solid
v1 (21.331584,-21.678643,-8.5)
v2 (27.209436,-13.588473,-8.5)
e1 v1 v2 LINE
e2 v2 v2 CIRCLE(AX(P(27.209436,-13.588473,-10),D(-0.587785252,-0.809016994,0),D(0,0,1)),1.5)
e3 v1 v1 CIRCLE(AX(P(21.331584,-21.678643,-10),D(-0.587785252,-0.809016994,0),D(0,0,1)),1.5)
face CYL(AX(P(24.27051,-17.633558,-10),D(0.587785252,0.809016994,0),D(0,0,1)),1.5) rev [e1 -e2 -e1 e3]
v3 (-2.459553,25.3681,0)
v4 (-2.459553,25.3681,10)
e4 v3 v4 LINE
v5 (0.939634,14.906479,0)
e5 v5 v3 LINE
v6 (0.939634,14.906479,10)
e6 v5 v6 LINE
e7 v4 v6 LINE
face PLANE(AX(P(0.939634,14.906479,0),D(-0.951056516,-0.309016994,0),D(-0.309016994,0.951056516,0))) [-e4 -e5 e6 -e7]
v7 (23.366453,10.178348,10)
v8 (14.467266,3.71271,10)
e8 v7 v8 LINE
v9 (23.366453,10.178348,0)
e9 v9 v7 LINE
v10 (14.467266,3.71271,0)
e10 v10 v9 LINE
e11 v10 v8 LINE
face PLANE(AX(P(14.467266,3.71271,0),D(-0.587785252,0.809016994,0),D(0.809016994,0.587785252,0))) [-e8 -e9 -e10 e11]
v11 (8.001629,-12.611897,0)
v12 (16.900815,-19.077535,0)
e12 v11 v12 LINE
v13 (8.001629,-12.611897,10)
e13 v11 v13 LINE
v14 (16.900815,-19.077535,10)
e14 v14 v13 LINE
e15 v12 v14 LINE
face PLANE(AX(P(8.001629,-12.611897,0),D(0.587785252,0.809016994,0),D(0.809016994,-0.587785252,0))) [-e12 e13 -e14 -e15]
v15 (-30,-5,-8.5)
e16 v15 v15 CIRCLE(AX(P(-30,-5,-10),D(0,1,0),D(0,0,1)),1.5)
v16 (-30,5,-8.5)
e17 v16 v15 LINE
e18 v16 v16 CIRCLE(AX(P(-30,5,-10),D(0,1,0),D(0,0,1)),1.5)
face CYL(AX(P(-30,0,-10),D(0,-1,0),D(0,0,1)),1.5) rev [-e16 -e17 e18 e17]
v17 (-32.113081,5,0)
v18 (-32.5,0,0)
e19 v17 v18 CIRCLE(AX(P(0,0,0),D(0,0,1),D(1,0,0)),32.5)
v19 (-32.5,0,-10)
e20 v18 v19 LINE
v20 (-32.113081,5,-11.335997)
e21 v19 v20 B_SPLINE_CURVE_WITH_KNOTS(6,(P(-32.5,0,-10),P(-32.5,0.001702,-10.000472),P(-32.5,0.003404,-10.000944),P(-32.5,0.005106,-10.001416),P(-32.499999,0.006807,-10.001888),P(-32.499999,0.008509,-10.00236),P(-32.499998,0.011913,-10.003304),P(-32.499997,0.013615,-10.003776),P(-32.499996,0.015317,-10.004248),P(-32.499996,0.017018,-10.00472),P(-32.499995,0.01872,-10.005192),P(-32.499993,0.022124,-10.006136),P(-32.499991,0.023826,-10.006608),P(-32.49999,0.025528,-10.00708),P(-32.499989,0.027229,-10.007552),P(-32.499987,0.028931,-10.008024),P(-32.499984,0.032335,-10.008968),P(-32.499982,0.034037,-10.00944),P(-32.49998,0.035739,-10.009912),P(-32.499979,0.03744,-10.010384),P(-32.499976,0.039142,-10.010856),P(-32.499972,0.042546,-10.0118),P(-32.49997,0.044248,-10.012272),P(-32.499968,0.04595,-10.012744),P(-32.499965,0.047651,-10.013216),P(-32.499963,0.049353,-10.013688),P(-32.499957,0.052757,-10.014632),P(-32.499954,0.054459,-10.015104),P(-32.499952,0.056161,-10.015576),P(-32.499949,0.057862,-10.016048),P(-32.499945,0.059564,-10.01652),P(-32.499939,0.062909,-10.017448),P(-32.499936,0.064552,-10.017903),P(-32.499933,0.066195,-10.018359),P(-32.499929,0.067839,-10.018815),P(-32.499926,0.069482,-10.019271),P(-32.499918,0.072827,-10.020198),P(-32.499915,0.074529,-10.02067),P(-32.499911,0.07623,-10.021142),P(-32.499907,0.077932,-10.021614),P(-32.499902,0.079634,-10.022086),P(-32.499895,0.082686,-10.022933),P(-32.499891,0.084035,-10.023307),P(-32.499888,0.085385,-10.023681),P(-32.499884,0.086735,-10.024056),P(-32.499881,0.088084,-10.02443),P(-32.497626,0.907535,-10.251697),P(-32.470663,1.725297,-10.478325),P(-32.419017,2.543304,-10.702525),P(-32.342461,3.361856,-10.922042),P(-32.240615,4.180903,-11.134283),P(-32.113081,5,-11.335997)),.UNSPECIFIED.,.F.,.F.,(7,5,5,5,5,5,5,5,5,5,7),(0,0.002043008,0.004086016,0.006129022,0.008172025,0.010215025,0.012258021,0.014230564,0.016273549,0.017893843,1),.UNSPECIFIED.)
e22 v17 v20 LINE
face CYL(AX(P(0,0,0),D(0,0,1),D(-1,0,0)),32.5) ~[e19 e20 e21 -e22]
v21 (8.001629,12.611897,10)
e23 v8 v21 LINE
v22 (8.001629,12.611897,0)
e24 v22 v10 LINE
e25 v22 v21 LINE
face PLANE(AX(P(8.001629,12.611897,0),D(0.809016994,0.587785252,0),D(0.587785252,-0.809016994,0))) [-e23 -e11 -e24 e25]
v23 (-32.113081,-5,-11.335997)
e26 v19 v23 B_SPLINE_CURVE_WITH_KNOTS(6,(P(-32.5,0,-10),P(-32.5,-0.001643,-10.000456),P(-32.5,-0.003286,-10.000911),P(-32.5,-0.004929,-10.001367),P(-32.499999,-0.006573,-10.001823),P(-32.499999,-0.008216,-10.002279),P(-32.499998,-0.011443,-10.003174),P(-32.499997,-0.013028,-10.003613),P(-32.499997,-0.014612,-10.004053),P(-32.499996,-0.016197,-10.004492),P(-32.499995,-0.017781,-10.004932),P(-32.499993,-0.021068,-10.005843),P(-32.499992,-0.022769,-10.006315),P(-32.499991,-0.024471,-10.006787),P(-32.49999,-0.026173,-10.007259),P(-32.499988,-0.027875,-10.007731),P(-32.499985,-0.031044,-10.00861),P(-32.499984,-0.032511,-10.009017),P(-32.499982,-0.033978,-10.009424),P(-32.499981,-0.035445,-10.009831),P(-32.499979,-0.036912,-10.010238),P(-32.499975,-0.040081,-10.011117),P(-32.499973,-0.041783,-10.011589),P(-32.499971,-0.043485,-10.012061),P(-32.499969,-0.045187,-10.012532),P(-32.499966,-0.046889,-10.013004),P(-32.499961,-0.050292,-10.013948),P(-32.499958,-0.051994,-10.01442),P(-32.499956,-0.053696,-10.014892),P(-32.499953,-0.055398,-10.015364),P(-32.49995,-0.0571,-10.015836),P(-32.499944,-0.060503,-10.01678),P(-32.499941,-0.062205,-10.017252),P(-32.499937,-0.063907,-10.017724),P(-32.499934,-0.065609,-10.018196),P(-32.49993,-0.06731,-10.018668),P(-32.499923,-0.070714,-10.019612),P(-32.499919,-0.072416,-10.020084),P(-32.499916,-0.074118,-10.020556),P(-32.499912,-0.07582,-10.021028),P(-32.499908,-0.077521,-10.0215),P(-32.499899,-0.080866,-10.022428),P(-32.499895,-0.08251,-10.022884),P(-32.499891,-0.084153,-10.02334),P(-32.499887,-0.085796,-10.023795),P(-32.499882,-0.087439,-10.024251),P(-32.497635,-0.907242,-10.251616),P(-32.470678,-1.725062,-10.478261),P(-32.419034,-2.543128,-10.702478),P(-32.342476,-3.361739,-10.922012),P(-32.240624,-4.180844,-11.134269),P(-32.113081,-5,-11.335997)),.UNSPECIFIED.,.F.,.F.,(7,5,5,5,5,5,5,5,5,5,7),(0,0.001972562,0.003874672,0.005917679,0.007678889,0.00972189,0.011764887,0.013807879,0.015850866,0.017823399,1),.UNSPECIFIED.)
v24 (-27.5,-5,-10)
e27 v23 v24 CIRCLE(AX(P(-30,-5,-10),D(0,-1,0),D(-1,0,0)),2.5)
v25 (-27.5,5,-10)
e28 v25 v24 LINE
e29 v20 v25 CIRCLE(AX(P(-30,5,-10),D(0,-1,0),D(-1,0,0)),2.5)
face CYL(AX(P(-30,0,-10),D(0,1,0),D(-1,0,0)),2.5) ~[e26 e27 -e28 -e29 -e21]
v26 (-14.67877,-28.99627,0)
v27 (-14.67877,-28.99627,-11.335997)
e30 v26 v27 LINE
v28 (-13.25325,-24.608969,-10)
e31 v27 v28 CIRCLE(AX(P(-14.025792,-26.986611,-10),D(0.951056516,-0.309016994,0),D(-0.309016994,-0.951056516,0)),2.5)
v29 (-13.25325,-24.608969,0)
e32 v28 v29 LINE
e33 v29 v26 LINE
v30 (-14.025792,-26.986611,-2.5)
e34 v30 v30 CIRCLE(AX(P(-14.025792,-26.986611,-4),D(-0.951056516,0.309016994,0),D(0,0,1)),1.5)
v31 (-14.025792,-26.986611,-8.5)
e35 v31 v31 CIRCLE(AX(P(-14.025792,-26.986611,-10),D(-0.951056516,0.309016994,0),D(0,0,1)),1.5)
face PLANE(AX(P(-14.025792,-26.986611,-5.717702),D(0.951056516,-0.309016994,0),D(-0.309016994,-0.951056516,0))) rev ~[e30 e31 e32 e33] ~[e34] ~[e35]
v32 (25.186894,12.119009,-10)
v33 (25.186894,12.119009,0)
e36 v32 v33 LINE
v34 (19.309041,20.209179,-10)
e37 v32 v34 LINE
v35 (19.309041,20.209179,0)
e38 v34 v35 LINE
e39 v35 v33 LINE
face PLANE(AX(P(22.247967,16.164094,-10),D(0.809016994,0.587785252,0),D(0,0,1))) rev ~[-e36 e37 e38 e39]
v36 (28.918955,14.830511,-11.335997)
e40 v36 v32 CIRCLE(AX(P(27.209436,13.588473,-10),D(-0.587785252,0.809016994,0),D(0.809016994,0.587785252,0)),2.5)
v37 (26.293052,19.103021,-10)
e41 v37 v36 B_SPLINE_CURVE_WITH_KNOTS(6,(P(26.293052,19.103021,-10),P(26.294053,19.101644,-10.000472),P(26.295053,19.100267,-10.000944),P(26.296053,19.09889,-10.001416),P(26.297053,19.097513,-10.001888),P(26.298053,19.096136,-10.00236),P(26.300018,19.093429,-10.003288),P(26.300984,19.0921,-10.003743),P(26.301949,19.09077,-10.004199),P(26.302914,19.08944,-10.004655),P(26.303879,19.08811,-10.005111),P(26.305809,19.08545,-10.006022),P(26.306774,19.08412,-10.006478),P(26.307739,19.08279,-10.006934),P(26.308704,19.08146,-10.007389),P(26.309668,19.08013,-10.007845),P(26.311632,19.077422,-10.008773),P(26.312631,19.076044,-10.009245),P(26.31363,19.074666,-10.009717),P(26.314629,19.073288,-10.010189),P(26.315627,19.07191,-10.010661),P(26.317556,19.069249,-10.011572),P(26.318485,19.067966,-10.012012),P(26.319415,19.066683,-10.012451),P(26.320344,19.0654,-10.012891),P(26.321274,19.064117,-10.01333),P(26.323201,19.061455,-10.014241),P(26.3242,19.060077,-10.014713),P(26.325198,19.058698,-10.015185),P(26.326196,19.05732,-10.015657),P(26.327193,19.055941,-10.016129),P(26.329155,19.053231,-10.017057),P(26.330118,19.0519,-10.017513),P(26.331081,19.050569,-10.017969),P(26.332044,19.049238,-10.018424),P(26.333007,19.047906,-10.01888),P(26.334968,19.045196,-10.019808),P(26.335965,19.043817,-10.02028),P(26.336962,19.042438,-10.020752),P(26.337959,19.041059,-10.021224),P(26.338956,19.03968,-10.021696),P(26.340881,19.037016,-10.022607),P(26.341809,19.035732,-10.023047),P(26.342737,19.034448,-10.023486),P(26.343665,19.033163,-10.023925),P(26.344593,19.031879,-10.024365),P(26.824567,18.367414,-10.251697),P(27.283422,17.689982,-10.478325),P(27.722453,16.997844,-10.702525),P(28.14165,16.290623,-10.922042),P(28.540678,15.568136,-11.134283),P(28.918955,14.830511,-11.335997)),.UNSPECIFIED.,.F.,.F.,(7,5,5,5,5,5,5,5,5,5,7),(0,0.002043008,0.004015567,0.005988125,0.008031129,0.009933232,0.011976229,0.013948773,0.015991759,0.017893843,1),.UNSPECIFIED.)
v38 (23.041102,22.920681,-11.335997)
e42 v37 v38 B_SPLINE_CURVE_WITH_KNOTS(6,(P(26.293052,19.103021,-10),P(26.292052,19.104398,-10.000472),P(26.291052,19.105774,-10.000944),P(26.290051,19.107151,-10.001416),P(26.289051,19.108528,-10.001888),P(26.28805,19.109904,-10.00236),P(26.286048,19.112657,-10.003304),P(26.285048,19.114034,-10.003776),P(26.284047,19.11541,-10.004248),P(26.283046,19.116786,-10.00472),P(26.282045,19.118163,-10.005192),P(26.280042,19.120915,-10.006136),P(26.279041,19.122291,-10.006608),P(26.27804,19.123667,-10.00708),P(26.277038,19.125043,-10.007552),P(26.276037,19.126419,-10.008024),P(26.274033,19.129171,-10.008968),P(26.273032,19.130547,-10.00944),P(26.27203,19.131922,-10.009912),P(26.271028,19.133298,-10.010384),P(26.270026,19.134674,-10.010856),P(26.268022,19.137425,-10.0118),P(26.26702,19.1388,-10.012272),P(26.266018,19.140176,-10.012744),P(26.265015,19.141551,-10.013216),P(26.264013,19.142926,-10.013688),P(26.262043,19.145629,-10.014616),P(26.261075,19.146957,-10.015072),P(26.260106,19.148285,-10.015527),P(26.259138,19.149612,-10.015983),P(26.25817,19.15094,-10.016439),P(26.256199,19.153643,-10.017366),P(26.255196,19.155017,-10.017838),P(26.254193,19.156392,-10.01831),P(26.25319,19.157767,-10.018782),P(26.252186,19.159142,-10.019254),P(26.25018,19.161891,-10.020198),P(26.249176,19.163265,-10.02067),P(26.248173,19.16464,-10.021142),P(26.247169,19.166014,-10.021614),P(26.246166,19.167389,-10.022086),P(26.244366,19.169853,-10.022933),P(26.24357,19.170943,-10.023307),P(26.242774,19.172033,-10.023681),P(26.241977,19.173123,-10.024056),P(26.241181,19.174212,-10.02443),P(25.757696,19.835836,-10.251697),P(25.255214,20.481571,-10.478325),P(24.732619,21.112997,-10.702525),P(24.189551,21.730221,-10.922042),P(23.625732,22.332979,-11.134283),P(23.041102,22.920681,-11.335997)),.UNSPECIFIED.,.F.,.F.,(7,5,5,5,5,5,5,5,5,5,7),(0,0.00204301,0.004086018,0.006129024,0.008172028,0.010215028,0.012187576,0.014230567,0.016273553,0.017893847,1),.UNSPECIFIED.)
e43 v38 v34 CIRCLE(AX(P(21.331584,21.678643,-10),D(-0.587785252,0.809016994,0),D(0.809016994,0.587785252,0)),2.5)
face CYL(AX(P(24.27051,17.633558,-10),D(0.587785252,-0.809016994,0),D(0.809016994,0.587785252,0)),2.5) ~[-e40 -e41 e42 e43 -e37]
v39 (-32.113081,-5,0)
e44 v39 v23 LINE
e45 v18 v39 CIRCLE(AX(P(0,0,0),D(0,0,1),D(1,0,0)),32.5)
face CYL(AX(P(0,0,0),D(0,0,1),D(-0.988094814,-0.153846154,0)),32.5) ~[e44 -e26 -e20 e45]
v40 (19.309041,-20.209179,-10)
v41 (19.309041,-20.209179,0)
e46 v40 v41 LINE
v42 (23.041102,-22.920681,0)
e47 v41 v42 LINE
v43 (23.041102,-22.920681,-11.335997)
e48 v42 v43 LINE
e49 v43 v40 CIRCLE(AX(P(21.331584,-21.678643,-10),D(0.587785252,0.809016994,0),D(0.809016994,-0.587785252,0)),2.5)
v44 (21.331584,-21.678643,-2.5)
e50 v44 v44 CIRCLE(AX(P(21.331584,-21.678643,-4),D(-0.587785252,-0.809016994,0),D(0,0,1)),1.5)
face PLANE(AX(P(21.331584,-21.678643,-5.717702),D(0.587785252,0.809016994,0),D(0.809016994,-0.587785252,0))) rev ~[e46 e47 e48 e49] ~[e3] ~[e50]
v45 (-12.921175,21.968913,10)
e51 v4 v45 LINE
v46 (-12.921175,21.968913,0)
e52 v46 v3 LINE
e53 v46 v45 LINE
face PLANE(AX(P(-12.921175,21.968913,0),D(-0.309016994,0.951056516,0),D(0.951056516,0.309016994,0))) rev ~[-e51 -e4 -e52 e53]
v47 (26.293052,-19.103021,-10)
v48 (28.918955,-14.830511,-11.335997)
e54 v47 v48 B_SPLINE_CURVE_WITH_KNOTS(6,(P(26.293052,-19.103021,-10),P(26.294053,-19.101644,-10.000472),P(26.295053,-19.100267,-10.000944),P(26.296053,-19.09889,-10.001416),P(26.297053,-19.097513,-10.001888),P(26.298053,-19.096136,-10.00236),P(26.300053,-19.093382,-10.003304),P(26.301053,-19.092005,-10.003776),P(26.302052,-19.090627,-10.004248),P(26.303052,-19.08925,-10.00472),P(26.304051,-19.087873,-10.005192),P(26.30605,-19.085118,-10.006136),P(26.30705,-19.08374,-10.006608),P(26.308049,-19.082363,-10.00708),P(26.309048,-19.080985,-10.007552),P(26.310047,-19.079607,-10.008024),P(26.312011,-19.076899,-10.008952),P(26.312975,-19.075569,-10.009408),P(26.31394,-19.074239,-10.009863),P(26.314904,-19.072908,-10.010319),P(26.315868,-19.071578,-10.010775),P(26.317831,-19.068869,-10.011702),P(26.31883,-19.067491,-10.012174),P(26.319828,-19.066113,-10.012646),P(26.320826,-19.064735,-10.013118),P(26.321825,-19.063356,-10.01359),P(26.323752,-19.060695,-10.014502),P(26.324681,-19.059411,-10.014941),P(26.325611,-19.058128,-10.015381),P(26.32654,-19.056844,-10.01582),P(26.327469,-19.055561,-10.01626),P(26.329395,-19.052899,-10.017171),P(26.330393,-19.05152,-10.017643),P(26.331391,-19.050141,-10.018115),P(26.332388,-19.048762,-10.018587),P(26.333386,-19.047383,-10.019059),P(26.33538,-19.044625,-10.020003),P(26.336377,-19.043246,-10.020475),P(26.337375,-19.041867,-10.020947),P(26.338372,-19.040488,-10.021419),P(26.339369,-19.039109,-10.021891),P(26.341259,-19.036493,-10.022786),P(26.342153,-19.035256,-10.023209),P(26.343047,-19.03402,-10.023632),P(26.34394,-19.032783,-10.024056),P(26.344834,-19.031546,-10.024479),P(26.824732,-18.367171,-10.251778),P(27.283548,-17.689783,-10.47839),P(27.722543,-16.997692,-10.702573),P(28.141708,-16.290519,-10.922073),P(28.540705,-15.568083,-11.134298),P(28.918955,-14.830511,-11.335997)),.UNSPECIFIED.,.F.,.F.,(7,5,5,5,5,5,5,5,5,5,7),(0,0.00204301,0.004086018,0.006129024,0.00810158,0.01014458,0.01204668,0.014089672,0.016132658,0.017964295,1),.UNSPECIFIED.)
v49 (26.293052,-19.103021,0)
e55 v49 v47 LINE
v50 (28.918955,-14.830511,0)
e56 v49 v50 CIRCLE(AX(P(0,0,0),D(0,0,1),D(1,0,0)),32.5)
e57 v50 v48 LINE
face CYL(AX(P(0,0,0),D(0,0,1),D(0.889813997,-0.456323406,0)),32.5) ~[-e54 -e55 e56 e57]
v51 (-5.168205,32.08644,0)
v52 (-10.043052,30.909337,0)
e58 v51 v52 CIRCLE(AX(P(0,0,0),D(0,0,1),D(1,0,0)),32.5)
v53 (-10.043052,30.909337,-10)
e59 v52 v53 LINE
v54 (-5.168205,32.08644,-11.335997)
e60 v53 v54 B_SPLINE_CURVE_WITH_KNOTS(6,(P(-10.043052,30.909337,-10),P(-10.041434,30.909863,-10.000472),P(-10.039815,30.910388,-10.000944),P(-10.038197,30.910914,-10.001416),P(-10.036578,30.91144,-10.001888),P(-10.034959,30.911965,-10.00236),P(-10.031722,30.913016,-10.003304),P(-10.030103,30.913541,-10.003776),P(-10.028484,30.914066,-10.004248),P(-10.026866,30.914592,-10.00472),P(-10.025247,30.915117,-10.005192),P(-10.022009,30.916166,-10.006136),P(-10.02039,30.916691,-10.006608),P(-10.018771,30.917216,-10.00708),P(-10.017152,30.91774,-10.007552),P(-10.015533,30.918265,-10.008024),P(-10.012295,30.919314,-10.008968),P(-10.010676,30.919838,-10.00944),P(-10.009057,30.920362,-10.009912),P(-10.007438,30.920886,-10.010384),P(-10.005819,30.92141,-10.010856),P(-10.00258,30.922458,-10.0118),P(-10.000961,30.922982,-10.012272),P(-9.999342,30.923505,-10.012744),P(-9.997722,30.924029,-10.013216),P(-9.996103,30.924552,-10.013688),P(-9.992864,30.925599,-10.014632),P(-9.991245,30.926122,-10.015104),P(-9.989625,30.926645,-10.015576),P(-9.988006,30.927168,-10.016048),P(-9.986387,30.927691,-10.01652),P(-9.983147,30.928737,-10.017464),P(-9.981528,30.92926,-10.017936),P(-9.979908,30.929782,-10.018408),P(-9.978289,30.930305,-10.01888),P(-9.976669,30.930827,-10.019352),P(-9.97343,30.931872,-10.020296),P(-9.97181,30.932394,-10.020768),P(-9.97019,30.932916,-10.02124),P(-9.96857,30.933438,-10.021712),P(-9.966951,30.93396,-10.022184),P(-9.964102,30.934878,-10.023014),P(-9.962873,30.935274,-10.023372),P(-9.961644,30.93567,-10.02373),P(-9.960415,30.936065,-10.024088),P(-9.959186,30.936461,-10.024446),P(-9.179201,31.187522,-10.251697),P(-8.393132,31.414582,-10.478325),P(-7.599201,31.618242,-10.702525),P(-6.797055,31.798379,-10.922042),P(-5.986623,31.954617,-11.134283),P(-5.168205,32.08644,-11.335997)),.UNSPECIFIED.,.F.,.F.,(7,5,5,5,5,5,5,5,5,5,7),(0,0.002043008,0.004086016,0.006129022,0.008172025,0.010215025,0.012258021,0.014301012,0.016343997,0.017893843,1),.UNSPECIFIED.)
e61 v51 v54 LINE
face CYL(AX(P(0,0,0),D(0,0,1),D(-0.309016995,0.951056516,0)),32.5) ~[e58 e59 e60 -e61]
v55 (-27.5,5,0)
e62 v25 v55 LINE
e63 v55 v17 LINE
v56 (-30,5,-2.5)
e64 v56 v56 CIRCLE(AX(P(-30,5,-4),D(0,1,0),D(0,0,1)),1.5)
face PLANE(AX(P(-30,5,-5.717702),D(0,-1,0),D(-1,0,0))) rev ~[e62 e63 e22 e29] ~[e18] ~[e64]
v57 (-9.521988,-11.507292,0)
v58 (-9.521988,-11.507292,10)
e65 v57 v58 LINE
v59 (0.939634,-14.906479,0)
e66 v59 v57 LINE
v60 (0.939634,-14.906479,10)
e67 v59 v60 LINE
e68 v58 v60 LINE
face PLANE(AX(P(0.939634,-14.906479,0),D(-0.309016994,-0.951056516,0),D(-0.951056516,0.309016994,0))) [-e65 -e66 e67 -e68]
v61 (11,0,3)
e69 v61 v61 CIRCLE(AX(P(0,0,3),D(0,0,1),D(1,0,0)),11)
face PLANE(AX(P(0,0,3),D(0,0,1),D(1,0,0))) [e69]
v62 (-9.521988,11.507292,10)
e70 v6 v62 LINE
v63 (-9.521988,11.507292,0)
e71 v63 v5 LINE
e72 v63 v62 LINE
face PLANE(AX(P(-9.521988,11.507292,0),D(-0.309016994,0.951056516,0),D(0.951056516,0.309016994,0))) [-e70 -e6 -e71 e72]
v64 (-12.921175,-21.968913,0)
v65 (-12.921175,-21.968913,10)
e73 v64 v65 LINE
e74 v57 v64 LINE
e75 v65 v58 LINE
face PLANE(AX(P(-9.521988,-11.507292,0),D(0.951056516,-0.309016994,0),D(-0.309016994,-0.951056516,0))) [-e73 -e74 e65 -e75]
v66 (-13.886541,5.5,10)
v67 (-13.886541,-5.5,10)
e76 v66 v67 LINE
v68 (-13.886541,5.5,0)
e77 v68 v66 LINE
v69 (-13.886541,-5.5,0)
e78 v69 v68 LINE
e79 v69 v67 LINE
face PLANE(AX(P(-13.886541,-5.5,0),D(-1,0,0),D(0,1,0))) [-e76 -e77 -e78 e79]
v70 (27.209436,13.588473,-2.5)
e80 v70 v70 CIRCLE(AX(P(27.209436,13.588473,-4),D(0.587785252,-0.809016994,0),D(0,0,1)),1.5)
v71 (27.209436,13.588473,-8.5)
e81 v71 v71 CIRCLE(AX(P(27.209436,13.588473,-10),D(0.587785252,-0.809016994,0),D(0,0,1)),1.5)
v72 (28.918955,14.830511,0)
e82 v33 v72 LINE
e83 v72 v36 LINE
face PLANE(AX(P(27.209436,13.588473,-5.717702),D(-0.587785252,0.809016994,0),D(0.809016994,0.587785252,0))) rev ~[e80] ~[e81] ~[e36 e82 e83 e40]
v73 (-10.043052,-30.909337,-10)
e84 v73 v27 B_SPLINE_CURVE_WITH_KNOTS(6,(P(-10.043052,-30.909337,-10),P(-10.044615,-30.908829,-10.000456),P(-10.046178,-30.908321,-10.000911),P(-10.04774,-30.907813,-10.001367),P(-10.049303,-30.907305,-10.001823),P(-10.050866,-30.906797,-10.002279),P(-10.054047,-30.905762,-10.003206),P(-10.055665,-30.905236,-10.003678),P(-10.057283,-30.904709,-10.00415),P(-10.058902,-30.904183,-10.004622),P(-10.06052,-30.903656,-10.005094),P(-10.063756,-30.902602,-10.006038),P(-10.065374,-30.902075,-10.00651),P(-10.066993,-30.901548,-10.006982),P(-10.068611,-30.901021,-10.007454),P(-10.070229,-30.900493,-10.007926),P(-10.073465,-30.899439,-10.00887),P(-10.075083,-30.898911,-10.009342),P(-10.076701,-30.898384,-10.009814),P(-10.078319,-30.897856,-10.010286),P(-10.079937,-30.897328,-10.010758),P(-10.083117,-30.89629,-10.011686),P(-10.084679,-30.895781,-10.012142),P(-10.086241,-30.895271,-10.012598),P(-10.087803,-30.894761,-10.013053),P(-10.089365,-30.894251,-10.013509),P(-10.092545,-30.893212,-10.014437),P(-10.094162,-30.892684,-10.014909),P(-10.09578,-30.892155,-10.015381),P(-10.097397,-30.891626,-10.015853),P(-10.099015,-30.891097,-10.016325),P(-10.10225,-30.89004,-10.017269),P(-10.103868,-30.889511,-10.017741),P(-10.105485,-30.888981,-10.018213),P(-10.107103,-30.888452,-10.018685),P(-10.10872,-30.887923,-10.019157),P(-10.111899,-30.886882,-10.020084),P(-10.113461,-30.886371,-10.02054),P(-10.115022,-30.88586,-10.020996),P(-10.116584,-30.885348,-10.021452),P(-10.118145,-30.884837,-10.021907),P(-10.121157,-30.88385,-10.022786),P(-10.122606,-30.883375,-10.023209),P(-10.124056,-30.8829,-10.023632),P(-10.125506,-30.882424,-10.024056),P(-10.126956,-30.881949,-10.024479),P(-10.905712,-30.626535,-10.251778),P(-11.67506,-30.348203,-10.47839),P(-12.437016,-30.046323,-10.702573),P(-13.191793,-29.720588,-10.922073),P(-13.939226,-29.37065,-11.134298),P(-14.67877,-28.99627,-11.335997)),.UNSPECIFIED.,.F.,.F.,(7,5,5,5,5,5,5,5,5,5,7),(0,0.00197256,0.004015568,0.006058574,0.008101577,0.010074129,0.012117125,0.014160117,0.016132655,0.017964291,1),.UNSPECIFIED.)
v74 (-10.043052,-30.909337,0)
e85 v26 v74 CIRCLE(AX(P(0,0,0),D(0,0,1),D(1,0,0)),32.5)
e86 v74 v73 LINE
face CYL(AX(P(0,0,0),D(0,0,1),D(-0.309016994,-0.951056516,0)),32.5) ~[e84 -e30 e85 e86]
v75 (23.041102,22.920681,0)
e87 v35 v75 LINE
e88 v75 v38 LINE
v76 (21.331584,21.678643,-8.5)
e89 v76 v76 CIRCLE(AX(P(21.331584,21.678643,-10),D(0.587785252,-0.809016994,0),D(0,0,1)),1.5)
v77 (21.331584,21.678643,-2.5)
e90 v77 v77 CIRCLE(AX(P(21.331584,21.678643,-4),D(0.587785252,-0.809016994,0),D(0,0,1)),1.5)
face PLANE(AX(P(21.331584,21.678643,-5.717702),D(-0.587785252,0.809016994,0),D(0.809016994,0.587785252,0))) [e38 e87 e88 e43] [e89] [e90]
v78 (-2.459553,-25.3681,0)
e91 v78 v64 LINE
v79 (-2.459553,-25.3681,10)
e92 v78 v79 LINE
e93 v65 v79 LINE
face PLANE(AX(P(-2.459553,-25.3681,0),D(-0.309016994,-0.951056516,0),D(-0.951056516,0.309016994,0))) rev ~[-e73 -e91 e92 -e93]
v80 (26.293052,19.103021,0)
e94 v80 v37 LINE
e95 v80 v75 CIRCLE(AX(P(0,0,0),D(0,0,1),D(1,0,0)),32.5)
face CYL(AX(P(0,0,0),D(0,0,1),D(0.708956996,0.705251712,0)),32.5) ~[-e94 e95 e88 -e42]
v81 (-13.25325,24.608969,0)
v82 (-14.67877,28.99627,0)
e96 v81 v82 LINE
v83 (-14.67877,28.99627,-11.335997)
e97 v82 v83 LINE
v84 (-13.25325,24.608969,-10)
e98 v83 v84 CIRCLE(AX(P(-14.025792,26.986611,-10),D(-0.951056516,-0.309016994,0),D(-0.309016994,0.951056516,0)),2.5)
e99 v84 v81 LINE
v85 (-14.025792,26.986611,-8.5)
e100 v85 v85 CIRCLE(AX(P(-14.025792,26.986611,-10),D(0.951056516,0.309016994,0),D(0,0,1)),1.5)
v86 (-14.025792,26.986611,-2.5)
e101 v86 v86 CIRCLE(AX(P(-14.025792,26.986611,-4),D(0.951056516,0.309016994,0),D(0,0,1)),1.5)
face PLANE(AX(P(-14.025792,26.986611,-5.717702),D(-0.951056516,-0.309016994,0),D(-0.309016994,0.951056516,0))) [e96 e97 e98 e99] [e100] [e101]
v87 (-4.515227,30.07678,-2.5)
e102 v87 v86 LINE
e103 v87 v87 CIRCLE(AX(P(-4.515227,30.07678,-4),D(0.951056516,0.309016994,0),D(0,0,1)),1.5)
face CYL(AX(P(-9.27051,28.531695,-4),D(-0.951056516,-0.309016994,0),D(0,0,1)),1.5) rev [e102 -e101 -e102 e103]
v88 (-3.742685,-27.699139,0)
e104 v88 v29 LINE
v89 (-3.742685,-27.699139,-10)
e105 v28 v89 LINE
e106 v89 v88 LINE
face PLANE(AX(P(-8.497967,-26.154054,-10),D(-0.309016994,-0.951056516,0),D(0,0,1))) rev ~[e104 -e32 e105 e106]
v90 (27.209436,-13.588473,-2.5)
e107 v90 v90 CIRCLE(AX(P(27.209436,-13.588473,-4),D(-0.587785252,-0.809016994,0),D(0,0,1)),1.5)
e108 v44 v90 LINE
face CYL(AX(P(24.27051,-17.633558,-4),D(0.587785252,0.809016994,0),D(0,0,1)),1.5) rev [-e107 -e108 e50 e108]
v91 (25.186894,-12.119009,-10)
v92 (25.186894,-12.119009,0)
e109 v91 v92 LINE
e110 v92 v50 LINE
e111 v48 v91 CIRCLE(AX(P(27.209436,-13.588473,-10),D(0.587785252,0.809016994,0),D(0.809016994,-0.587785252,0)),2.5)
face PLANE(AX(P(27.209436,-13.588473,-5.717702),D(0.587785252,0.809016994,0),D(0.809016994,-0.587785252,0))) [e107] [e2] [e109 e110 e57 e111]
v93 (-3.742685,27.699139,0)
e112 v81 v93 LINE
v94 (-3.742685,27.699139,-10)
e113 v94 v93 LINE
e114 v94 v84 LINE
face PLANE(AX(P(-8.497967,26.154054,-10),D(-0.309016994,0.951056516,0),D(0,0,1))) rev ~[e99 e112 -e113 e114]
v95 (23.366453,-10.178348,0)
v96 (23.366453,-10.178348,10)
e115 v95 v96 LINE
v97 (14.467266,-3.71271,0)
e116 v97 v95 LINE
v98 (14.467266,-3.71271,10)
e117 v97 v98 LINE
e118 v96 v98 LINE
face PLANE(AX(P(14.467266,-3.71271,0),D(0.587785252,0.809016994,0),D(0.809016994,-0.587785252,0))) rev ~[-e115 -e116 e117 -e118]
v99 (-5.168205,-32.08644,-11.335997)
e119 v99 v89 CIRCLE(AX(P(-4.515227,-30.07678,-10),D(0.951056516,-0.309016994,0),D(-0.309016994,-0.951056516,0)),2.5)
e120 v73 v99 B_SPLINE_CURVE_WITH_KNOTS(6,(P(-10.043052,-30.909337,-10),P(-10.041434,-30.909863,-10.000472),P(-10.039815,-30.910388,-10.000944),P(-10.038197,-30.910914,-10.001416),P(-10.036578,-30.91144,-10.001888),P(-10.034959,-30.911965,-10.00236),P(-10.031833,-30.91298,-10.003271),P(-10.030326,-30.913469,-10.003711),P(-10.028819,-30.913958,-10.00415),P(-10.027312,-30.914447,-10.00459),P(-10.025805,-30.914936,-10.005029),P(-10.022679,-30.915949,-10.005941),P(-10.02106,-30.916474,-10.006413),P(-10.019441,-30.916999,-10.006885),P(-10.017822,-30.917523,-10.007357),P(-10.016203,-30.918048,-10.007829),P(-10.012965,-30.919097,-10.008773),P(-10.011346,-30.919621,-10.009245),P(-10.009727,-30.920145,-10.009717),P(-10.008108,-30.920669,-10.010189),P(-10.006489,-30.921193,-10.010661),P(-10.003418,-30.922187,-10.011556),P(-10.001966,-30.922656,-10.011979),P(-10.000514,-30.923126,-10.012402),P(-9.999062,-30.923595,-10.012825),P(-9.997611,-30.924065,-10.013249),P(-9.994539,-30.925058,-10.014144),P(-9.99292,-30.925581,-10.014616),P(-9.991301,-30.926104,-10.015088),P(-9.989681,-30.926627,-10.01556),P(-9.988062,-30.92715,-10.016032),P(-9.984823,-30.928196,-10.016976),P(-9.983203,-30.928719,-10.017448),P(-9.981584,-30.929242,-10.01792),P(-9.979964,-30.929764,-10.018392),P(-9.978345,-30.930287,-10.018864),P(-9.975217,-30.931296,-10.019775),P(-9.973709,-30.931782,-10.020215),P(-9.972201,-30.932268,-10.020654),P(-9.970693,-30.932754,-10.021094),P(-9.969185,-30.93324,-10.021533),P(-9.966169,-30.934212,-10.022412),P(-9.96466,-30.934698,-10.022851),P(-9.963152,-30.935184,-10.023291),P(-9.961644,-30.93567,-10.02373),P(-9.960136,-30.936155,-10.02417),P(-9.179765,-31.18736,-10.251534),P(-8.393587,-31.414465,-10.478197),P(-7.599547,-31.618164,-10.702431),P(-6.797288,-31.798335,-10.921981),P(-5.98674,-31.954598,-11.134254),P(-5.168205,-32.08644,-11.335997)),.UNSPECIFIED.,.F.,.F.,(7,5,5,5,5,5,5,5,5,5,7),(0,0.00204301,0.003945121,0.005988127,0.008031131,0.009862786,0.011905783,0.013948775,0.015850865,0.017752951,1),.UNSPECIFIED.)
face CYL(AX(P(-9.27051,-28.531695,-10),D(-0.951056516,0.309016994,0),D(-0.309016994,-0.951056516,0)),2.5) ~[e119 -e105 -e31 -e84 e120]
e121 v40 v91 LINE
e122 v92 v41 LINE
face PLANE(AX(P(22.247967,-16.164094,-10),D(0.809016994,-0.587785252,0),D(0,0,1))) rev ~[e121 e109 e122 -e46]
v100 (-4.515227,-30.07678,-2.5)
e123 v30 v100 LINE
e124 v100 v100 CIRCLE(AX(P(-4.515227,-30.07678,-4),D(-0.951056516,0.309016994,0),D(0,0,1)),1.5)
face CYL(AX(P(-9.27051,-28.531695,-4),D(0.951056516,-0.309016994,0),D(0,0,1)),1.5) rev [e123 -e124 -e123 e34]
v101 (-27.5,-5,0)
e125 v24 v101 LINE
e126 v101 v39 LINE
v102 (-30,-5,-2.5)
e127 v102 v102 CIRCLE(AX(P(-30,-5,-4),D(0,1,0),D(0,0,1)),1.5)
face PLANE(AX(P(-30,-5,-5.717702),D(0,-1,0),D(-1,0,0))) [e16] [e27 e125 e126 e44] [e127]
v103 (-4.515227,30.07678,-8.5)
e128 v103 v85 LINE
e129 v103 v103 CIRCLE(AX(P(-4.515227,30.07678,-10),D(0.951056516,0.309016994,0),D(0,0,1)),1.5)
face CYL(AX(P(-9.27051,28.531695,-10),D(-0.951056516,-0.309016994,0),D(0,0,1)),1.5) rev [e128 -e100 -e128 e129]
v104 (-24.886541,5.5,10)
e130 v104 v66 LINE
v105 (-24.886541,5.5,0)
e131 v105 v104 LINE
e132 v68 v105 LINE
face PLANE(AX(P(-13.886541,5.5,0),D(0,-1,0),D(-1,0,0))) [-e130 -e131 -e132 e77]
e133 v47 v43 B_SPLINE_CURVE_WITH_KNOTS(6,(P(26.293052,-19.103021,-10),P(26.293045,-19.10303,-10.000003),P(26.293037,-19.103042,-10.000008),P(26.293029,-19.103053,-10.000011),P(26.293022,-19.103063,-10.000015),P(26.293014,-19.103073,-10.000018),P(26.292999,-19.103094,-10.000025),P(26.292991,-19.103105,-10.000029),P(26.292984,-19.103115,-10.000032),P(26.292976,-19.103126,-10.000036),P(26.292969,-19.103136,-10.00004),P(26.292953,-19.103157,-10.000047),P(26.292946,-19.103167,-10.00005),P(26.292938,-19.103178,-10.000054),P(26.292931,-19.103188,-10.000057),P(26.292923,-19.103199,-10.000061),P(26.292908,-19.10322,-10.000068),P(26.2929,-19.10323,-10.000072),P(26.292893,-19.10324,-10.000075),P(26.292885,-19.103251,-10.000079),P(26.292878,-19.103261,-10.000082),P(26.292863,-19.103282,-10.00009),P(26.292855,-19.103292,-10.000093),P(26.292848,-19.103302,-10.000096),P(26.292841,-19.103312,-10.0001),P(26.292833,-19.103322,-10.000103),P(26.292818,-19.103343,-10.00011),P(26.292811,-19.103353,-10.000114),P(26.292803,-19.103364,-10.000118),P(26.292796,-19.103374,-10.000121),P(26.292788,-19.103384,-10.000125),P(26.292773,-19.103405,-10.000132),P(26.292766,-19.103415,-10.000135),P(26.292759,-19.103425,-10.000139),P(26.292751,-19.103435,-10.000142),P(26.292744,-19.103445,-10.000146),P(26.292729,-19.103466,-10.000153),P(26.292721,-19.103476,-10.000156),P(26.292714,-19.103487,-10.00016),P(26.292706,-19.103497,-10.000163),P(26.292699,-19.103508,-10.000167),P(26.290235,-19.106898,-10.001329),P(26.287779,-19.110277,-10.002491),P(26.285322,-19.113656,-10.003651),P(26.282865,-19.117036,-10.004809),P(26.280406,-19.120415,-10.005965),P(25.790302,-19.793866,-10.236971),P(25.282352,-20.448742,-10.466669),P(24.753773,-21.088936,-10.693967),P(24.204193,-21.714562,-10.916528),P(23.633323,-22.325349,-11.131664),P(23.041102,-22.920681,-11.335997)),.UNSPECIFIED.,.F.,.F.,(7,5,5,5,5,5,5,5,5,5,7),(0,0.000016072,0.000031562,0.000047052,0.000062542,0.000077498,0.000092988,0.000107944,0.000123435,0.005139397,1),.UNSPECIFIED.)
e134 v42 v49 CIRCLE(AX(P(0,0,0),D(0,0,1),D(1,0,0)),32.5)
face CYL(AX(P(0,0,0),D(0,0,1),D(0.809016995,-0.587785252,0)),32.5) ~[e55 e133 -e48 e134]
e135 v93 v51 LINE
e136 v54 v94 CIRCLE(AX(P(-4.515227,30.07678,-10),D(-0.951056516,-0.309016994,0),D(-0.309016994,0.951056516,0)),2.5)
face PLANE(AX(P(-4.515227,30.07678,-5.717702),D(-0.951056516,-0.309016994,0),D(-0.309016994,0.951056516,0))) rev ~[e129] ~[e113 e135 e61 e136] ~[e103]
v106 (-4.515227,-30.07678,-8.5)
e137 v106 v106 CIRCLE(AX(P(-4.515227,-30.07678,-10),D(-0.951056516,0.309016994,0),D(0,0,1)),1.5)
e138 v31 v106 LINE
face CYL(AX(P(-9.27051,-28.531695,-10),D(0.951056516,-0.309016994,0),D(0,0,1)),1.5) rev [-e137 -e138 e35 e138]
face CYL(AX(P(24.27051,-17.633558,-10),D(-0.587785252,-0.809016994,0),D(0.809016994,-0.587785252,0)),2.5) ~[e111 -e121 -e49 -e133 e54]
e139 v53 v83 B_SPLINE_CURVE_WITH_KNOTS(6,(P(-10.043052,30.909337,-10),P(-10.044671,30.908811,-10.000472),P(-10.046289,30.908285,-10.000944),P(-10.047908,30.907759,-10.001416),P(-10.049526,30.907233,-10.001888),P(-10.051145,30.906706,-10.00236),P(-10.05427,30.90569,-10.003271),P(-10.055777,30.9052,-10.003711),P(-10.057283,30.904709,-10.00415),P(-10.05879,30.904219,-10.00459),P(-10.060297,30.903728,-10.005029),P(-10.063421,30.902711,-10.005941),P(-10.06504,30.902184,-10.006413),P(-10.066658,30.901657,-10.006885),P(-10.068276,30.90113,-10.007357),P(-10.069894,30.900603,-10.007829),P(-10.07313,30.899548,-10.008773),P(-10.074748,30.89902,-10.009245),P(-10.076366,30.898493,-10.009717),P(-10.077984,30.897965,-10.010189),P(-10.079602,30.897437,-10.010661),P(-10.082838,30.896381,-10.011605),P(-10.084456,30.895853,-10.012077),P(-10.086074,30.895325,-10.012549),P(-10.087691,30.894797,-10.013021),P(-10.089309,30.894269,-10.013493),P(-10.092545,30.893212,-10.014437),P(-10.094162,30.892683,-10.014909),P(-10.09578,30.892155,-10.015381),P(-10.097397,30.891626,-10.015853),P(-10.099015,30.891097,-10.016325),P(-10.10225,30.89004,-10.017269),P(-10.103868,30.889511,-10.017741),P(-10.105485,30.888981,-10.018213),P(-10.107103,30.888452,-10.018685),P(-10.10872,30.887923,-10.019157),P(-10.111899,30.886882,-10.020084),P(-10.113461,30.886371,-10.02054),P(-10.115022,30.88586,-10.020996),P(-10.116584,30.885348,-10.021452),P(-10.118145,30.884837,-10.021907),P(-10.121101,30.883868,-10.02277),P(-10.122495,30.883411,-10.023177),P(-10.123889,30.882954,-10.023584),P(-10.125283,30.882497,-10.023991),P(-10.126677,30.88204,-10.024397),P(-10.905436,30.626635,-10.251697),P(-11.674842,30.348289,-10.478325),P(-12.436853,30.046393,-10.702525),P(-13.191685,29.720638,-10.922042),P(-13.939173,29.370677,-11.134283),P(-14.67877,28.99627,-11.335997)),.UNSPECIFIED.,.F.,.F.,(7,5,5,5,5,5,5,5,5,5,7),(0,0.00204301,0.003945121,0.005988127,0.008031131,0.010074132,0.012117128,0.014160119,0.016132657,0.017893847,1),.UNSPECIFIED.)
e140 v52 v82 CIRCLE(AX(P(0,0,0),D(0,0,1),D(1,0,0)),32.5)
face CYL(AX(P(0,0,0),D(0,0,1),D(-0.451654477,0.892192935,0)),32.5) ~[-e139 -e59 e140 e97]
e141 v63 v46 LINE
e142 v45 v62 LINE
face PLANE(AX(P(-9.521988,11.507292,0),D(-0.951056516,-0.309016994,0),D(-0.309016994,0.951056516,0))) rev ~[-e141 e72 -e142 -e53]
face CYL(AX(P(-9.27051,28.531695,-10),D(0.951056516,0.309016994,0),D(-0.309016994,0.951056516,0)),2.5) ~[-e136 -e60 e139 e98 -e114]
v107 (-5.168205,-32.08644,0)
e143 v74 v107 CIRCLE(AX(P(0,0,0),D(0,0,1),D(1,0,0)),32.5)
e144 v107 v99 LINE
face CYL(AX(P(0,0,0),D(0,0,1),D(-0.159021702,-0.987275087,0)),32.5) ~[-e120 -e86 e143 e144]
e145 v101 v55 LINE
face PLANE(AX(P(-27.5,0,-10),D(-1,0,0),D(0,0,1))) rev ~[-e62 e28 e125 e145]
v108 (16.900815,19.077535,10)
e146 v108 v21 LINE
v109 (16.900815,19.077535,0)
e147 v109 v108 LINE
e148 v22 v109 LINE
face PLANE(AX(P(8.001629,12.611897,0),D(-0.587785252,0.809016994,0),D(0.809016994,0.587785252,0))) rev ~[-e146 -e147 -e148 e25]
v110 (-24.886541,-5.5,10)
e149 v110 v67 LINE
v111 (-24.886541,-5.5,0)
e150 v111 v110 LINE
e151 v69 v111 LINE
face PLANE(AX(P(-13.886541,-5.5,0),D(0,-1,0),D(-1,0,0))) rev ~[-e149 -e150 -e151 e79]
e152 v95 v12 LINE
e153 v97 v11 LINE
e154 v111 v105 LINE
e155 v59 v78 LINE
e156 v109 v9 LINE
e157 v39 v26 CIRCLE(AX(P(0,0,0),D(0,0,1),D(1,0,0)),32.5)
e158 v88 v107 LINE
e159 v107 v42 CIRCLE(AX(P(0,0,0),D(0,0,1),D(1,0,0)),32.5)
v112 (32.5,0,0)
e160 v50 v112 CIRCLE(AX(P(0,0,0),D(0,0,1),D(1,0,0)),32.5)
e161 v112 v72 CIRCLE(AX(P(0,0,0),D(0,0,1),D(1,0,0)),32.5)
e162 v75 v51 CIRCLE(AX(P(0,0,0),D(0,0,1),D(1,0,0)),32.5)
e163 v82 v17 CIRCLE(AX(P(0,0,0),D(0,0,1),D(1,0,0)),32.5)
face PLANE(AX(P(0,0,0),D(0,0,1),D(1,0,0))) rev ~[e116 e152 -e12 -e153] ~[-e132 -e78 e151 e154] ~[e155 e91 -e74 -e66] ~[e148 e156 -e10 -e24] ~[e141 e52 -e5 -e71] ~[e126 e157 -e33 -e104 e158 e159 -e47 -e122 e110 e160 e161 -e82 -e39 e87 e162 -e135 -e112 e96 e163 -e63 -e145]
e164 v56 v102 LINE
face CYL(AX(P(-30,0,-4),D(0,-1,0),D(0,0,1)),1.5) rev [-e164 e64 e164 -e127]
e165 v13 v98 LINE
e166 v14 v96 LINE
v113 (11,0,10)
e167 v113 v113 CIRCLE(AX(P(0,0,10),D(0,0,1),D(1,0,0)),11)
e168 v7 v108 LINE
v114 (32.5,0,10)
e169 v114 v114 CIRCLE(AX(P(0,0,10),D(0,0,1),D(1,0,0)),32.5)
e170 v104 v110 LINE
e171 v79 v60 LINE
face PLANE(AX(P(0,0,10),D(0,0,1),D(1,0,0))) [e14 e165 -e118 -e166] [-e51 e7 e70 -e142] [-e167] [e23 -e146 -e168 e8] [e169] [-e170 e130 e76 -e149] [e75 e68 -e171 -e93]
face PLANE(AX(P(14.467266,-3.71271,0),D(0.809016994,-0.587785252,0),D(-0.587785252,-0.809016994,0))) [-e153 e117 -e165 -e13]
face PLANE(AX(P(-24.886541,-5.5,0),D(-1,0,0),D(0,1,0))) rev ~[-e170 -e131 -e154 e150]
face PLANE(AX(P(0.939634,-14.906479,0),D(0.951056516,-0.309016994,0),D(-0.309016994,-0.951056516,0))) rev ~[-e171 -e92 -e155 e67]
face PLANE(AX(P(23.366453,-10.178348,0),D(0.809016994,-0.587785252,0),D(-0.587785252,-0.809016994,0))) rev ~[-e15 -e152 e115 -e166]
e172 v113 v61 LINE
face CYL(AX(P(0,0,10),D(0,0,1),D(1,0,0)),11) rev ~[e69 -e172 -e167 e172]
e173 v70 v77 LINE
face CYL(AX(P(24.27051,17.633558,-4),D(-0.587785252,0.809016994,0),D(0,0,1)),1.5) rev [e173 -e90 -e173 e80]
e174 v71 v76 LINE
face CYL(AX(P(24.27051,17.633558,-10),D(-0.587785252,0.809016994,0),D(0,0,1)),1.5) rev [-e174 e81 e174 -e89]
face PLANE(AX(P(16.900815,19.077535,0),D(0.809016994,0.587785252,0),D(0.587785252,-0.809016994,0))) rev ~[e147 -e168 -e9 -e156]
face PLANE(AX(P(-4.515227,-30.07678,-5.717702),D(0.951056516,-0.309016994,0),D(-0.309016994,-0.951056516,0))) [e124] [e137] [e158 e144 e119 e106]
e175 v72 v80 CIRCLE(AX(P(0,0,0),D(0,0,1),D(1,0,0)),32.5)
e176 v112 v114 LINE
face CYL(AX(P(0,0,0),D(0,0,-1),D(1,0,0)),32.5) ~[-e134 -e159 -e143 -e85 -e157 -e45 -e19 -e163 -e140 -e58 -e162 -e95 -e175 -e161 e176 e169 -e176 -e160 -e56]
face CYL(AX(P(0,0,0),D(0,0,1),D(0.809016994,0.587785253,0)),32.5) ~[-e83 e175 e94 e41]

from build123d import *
from build123d.topology import SkipClean

# Parameters (mm, degrees)
ESQUISSE1_R                  = 32.5
BOSS_EXTRU_1_DEPTH           = 10
ESQUISSE2_R                  = 1.5
BOSS_EXTRU_2_DEPTH           = 5
ENL_V_MAT_EXTRU_1_DEPTH      = 48.631397208
R_P_TITION_CIRCULAIRE1_COUNT = 5
ENL_V_MAT_EXTRU_3_DEPTH      = 48.631397303
R_P_TITION_CIRCULAIRE2_COUNT = 5
ESQUISSE5_R                  = 11
ENL_V_MAT_EXTRU_4_DEPTH      = 7


with BuildPart() as part:
    # Esquisse1 → Boss.-Extru.1 (new body)
    with BuildSketch(Plane.XY):
        Circle(ESQUISSE1_R)
    extrude(amount=BOSS_EXTRU_1_DEPTH)

    # Esquisse2 → Boss.-Extru.2 (add, symmetric)
    with BuildSketch(Plane(origin=(0, 0, 0), x_dir=(1, 0, 0), z_dir=(0, 1, 0))):
        with BuildLine():
            Line((-32.5, 0), (-32.5, 10))
            ThreePointArc((-32.5, 10), (-30, 12.5), (-27.5, 10))
            Line((-27.5, 10), (-27.5, 0))
            Line((-27.5, 0), (-32.5, 0))
        make_face()
        with Locations((-30, 10)):
            Circle(ESQUISSE2_R, mode=Mode.SUBTRACT)
        with Locations((-30, 4)):
            Circle(ESQUISSE2_R, mode=Mode.SUBTRACT)
    boss_extru_2 = extrude(amount=BOSS_EXTRU_2_DEPTH, both=True)

    # Esquisse3 → Enlèv. mat.-Extru.1 (cut, through all)
    with SkipClean():  # the faces are left unmerged after this step: merging them gives an invalid solid
        with BuildSketch(Plane.XY):
            with BuildLine():
                ThreePointArc((-32.5, 0), (-32.403125984, 2.507474126), (-32.113081447, 5))
                Line((-32.113081447, 5), (-32.5, 5))
                Line((-32.5, 5), (-32.5, 0))
            make_face()
            with BuildLine():
                ThreePointArc((-32.113081447, -5), (-32.403125984, -2.507474126), (-32.5, 0))
                Line((-32.5, 0), (-32.5, -5))
                Line((-32.5, -5), (-32.113081447, -5))
            make_face()
        enl_v_mat_extru_1 = extrude(amount=-ENL_V_MAT_EXTRU_1_DEPTH, mode=Mode.SUBTRACT)

    # Répétition circulaire1: Boss.-Extru.2, Enlèv. mat.-Extru.1 ×5 about axis
    with SkipClean():  # the faces are left unmerged after this step: merging them gives an invalid solid
        r_p_tition_circulaire1_axis = Axis((0, 0, 0), (0, 0, 1))
        add([boss_extru_2.rotate(r_p_tition_circulaire1_axis, i * 360 / R_P_TITION_CIRCULAIRE1_COUNT) for i in range(1, R_P_TITION_CIRCULAIRE1_COUNT)])
        add([enl_v_mat_extru_1.rotate(r_p_tition_circulaire1_axis, i * 360 / R_P_TITION_CIRCULAIRE1_COUNT) for i in range(1, R_P_TITION_CIRCULAIRE1_COUNT)], mode=Mode.SUBTRACT)

    # Esquisse4 → Enlèv. mat.-Extru.3 (cut, through all)
    with SkipClean():  # the faces are left unmerged after this step: merging them gives an invalid solid
        with BuildSketch(Plane(origin=(0, 0, 0), x_dir=(-1, 0, 0), z_dir=(0, 0, -1))):
            Polygon((18.761540723, 5.5), (13.886540723, 5.5), (13.886540723, -5.5), (18.761540723, -5.5), (24.011540723, -5.5), (24.886540723, -5.5), (24.886540723, 5.5), (24.011540723, 5.5), align=None)
        enl_v_mat_extru_3 = extrude(amount=-ENL_V_MAT_EXTRU_3_DEPTH, mode=Mode.SUBTRACT)

    # Répétition circulaire2: Enlèv. mat.-Extru.3 ×5 about axis
    with SkipClean():  # the faces are left unmerged after this step: merging them gives an invalid solid
        r_p_tition_circulaire2_axis = Axis((0, 0, 0), (0, 0, 1))
        for i in range(1, R_P_TITION_CIRCULAIRE2_COUNT):
            add(enl_v_mat_extru_3.rotate(r_p_tition_circulaire2_axis, i * 360 / R_P_TITION_CIRCULAIRE2_COUNT), mode=Mode.SUBTRACT)

    # Esquisse5 → Enlèv. mat.-Extru.4 (cut)
    with SkipClean():  # the faces are left unmerged after this step: merging them gives an invalid solid
        with BuildSketch(Plane.XY.offset(10)):
            Circle(ESQUISSE5_R)
        extrude(amount=-ENL_V_MAT_EXTRU_4_DEPTH, mode=Mode.SUBTRACT)


solid = part.part
